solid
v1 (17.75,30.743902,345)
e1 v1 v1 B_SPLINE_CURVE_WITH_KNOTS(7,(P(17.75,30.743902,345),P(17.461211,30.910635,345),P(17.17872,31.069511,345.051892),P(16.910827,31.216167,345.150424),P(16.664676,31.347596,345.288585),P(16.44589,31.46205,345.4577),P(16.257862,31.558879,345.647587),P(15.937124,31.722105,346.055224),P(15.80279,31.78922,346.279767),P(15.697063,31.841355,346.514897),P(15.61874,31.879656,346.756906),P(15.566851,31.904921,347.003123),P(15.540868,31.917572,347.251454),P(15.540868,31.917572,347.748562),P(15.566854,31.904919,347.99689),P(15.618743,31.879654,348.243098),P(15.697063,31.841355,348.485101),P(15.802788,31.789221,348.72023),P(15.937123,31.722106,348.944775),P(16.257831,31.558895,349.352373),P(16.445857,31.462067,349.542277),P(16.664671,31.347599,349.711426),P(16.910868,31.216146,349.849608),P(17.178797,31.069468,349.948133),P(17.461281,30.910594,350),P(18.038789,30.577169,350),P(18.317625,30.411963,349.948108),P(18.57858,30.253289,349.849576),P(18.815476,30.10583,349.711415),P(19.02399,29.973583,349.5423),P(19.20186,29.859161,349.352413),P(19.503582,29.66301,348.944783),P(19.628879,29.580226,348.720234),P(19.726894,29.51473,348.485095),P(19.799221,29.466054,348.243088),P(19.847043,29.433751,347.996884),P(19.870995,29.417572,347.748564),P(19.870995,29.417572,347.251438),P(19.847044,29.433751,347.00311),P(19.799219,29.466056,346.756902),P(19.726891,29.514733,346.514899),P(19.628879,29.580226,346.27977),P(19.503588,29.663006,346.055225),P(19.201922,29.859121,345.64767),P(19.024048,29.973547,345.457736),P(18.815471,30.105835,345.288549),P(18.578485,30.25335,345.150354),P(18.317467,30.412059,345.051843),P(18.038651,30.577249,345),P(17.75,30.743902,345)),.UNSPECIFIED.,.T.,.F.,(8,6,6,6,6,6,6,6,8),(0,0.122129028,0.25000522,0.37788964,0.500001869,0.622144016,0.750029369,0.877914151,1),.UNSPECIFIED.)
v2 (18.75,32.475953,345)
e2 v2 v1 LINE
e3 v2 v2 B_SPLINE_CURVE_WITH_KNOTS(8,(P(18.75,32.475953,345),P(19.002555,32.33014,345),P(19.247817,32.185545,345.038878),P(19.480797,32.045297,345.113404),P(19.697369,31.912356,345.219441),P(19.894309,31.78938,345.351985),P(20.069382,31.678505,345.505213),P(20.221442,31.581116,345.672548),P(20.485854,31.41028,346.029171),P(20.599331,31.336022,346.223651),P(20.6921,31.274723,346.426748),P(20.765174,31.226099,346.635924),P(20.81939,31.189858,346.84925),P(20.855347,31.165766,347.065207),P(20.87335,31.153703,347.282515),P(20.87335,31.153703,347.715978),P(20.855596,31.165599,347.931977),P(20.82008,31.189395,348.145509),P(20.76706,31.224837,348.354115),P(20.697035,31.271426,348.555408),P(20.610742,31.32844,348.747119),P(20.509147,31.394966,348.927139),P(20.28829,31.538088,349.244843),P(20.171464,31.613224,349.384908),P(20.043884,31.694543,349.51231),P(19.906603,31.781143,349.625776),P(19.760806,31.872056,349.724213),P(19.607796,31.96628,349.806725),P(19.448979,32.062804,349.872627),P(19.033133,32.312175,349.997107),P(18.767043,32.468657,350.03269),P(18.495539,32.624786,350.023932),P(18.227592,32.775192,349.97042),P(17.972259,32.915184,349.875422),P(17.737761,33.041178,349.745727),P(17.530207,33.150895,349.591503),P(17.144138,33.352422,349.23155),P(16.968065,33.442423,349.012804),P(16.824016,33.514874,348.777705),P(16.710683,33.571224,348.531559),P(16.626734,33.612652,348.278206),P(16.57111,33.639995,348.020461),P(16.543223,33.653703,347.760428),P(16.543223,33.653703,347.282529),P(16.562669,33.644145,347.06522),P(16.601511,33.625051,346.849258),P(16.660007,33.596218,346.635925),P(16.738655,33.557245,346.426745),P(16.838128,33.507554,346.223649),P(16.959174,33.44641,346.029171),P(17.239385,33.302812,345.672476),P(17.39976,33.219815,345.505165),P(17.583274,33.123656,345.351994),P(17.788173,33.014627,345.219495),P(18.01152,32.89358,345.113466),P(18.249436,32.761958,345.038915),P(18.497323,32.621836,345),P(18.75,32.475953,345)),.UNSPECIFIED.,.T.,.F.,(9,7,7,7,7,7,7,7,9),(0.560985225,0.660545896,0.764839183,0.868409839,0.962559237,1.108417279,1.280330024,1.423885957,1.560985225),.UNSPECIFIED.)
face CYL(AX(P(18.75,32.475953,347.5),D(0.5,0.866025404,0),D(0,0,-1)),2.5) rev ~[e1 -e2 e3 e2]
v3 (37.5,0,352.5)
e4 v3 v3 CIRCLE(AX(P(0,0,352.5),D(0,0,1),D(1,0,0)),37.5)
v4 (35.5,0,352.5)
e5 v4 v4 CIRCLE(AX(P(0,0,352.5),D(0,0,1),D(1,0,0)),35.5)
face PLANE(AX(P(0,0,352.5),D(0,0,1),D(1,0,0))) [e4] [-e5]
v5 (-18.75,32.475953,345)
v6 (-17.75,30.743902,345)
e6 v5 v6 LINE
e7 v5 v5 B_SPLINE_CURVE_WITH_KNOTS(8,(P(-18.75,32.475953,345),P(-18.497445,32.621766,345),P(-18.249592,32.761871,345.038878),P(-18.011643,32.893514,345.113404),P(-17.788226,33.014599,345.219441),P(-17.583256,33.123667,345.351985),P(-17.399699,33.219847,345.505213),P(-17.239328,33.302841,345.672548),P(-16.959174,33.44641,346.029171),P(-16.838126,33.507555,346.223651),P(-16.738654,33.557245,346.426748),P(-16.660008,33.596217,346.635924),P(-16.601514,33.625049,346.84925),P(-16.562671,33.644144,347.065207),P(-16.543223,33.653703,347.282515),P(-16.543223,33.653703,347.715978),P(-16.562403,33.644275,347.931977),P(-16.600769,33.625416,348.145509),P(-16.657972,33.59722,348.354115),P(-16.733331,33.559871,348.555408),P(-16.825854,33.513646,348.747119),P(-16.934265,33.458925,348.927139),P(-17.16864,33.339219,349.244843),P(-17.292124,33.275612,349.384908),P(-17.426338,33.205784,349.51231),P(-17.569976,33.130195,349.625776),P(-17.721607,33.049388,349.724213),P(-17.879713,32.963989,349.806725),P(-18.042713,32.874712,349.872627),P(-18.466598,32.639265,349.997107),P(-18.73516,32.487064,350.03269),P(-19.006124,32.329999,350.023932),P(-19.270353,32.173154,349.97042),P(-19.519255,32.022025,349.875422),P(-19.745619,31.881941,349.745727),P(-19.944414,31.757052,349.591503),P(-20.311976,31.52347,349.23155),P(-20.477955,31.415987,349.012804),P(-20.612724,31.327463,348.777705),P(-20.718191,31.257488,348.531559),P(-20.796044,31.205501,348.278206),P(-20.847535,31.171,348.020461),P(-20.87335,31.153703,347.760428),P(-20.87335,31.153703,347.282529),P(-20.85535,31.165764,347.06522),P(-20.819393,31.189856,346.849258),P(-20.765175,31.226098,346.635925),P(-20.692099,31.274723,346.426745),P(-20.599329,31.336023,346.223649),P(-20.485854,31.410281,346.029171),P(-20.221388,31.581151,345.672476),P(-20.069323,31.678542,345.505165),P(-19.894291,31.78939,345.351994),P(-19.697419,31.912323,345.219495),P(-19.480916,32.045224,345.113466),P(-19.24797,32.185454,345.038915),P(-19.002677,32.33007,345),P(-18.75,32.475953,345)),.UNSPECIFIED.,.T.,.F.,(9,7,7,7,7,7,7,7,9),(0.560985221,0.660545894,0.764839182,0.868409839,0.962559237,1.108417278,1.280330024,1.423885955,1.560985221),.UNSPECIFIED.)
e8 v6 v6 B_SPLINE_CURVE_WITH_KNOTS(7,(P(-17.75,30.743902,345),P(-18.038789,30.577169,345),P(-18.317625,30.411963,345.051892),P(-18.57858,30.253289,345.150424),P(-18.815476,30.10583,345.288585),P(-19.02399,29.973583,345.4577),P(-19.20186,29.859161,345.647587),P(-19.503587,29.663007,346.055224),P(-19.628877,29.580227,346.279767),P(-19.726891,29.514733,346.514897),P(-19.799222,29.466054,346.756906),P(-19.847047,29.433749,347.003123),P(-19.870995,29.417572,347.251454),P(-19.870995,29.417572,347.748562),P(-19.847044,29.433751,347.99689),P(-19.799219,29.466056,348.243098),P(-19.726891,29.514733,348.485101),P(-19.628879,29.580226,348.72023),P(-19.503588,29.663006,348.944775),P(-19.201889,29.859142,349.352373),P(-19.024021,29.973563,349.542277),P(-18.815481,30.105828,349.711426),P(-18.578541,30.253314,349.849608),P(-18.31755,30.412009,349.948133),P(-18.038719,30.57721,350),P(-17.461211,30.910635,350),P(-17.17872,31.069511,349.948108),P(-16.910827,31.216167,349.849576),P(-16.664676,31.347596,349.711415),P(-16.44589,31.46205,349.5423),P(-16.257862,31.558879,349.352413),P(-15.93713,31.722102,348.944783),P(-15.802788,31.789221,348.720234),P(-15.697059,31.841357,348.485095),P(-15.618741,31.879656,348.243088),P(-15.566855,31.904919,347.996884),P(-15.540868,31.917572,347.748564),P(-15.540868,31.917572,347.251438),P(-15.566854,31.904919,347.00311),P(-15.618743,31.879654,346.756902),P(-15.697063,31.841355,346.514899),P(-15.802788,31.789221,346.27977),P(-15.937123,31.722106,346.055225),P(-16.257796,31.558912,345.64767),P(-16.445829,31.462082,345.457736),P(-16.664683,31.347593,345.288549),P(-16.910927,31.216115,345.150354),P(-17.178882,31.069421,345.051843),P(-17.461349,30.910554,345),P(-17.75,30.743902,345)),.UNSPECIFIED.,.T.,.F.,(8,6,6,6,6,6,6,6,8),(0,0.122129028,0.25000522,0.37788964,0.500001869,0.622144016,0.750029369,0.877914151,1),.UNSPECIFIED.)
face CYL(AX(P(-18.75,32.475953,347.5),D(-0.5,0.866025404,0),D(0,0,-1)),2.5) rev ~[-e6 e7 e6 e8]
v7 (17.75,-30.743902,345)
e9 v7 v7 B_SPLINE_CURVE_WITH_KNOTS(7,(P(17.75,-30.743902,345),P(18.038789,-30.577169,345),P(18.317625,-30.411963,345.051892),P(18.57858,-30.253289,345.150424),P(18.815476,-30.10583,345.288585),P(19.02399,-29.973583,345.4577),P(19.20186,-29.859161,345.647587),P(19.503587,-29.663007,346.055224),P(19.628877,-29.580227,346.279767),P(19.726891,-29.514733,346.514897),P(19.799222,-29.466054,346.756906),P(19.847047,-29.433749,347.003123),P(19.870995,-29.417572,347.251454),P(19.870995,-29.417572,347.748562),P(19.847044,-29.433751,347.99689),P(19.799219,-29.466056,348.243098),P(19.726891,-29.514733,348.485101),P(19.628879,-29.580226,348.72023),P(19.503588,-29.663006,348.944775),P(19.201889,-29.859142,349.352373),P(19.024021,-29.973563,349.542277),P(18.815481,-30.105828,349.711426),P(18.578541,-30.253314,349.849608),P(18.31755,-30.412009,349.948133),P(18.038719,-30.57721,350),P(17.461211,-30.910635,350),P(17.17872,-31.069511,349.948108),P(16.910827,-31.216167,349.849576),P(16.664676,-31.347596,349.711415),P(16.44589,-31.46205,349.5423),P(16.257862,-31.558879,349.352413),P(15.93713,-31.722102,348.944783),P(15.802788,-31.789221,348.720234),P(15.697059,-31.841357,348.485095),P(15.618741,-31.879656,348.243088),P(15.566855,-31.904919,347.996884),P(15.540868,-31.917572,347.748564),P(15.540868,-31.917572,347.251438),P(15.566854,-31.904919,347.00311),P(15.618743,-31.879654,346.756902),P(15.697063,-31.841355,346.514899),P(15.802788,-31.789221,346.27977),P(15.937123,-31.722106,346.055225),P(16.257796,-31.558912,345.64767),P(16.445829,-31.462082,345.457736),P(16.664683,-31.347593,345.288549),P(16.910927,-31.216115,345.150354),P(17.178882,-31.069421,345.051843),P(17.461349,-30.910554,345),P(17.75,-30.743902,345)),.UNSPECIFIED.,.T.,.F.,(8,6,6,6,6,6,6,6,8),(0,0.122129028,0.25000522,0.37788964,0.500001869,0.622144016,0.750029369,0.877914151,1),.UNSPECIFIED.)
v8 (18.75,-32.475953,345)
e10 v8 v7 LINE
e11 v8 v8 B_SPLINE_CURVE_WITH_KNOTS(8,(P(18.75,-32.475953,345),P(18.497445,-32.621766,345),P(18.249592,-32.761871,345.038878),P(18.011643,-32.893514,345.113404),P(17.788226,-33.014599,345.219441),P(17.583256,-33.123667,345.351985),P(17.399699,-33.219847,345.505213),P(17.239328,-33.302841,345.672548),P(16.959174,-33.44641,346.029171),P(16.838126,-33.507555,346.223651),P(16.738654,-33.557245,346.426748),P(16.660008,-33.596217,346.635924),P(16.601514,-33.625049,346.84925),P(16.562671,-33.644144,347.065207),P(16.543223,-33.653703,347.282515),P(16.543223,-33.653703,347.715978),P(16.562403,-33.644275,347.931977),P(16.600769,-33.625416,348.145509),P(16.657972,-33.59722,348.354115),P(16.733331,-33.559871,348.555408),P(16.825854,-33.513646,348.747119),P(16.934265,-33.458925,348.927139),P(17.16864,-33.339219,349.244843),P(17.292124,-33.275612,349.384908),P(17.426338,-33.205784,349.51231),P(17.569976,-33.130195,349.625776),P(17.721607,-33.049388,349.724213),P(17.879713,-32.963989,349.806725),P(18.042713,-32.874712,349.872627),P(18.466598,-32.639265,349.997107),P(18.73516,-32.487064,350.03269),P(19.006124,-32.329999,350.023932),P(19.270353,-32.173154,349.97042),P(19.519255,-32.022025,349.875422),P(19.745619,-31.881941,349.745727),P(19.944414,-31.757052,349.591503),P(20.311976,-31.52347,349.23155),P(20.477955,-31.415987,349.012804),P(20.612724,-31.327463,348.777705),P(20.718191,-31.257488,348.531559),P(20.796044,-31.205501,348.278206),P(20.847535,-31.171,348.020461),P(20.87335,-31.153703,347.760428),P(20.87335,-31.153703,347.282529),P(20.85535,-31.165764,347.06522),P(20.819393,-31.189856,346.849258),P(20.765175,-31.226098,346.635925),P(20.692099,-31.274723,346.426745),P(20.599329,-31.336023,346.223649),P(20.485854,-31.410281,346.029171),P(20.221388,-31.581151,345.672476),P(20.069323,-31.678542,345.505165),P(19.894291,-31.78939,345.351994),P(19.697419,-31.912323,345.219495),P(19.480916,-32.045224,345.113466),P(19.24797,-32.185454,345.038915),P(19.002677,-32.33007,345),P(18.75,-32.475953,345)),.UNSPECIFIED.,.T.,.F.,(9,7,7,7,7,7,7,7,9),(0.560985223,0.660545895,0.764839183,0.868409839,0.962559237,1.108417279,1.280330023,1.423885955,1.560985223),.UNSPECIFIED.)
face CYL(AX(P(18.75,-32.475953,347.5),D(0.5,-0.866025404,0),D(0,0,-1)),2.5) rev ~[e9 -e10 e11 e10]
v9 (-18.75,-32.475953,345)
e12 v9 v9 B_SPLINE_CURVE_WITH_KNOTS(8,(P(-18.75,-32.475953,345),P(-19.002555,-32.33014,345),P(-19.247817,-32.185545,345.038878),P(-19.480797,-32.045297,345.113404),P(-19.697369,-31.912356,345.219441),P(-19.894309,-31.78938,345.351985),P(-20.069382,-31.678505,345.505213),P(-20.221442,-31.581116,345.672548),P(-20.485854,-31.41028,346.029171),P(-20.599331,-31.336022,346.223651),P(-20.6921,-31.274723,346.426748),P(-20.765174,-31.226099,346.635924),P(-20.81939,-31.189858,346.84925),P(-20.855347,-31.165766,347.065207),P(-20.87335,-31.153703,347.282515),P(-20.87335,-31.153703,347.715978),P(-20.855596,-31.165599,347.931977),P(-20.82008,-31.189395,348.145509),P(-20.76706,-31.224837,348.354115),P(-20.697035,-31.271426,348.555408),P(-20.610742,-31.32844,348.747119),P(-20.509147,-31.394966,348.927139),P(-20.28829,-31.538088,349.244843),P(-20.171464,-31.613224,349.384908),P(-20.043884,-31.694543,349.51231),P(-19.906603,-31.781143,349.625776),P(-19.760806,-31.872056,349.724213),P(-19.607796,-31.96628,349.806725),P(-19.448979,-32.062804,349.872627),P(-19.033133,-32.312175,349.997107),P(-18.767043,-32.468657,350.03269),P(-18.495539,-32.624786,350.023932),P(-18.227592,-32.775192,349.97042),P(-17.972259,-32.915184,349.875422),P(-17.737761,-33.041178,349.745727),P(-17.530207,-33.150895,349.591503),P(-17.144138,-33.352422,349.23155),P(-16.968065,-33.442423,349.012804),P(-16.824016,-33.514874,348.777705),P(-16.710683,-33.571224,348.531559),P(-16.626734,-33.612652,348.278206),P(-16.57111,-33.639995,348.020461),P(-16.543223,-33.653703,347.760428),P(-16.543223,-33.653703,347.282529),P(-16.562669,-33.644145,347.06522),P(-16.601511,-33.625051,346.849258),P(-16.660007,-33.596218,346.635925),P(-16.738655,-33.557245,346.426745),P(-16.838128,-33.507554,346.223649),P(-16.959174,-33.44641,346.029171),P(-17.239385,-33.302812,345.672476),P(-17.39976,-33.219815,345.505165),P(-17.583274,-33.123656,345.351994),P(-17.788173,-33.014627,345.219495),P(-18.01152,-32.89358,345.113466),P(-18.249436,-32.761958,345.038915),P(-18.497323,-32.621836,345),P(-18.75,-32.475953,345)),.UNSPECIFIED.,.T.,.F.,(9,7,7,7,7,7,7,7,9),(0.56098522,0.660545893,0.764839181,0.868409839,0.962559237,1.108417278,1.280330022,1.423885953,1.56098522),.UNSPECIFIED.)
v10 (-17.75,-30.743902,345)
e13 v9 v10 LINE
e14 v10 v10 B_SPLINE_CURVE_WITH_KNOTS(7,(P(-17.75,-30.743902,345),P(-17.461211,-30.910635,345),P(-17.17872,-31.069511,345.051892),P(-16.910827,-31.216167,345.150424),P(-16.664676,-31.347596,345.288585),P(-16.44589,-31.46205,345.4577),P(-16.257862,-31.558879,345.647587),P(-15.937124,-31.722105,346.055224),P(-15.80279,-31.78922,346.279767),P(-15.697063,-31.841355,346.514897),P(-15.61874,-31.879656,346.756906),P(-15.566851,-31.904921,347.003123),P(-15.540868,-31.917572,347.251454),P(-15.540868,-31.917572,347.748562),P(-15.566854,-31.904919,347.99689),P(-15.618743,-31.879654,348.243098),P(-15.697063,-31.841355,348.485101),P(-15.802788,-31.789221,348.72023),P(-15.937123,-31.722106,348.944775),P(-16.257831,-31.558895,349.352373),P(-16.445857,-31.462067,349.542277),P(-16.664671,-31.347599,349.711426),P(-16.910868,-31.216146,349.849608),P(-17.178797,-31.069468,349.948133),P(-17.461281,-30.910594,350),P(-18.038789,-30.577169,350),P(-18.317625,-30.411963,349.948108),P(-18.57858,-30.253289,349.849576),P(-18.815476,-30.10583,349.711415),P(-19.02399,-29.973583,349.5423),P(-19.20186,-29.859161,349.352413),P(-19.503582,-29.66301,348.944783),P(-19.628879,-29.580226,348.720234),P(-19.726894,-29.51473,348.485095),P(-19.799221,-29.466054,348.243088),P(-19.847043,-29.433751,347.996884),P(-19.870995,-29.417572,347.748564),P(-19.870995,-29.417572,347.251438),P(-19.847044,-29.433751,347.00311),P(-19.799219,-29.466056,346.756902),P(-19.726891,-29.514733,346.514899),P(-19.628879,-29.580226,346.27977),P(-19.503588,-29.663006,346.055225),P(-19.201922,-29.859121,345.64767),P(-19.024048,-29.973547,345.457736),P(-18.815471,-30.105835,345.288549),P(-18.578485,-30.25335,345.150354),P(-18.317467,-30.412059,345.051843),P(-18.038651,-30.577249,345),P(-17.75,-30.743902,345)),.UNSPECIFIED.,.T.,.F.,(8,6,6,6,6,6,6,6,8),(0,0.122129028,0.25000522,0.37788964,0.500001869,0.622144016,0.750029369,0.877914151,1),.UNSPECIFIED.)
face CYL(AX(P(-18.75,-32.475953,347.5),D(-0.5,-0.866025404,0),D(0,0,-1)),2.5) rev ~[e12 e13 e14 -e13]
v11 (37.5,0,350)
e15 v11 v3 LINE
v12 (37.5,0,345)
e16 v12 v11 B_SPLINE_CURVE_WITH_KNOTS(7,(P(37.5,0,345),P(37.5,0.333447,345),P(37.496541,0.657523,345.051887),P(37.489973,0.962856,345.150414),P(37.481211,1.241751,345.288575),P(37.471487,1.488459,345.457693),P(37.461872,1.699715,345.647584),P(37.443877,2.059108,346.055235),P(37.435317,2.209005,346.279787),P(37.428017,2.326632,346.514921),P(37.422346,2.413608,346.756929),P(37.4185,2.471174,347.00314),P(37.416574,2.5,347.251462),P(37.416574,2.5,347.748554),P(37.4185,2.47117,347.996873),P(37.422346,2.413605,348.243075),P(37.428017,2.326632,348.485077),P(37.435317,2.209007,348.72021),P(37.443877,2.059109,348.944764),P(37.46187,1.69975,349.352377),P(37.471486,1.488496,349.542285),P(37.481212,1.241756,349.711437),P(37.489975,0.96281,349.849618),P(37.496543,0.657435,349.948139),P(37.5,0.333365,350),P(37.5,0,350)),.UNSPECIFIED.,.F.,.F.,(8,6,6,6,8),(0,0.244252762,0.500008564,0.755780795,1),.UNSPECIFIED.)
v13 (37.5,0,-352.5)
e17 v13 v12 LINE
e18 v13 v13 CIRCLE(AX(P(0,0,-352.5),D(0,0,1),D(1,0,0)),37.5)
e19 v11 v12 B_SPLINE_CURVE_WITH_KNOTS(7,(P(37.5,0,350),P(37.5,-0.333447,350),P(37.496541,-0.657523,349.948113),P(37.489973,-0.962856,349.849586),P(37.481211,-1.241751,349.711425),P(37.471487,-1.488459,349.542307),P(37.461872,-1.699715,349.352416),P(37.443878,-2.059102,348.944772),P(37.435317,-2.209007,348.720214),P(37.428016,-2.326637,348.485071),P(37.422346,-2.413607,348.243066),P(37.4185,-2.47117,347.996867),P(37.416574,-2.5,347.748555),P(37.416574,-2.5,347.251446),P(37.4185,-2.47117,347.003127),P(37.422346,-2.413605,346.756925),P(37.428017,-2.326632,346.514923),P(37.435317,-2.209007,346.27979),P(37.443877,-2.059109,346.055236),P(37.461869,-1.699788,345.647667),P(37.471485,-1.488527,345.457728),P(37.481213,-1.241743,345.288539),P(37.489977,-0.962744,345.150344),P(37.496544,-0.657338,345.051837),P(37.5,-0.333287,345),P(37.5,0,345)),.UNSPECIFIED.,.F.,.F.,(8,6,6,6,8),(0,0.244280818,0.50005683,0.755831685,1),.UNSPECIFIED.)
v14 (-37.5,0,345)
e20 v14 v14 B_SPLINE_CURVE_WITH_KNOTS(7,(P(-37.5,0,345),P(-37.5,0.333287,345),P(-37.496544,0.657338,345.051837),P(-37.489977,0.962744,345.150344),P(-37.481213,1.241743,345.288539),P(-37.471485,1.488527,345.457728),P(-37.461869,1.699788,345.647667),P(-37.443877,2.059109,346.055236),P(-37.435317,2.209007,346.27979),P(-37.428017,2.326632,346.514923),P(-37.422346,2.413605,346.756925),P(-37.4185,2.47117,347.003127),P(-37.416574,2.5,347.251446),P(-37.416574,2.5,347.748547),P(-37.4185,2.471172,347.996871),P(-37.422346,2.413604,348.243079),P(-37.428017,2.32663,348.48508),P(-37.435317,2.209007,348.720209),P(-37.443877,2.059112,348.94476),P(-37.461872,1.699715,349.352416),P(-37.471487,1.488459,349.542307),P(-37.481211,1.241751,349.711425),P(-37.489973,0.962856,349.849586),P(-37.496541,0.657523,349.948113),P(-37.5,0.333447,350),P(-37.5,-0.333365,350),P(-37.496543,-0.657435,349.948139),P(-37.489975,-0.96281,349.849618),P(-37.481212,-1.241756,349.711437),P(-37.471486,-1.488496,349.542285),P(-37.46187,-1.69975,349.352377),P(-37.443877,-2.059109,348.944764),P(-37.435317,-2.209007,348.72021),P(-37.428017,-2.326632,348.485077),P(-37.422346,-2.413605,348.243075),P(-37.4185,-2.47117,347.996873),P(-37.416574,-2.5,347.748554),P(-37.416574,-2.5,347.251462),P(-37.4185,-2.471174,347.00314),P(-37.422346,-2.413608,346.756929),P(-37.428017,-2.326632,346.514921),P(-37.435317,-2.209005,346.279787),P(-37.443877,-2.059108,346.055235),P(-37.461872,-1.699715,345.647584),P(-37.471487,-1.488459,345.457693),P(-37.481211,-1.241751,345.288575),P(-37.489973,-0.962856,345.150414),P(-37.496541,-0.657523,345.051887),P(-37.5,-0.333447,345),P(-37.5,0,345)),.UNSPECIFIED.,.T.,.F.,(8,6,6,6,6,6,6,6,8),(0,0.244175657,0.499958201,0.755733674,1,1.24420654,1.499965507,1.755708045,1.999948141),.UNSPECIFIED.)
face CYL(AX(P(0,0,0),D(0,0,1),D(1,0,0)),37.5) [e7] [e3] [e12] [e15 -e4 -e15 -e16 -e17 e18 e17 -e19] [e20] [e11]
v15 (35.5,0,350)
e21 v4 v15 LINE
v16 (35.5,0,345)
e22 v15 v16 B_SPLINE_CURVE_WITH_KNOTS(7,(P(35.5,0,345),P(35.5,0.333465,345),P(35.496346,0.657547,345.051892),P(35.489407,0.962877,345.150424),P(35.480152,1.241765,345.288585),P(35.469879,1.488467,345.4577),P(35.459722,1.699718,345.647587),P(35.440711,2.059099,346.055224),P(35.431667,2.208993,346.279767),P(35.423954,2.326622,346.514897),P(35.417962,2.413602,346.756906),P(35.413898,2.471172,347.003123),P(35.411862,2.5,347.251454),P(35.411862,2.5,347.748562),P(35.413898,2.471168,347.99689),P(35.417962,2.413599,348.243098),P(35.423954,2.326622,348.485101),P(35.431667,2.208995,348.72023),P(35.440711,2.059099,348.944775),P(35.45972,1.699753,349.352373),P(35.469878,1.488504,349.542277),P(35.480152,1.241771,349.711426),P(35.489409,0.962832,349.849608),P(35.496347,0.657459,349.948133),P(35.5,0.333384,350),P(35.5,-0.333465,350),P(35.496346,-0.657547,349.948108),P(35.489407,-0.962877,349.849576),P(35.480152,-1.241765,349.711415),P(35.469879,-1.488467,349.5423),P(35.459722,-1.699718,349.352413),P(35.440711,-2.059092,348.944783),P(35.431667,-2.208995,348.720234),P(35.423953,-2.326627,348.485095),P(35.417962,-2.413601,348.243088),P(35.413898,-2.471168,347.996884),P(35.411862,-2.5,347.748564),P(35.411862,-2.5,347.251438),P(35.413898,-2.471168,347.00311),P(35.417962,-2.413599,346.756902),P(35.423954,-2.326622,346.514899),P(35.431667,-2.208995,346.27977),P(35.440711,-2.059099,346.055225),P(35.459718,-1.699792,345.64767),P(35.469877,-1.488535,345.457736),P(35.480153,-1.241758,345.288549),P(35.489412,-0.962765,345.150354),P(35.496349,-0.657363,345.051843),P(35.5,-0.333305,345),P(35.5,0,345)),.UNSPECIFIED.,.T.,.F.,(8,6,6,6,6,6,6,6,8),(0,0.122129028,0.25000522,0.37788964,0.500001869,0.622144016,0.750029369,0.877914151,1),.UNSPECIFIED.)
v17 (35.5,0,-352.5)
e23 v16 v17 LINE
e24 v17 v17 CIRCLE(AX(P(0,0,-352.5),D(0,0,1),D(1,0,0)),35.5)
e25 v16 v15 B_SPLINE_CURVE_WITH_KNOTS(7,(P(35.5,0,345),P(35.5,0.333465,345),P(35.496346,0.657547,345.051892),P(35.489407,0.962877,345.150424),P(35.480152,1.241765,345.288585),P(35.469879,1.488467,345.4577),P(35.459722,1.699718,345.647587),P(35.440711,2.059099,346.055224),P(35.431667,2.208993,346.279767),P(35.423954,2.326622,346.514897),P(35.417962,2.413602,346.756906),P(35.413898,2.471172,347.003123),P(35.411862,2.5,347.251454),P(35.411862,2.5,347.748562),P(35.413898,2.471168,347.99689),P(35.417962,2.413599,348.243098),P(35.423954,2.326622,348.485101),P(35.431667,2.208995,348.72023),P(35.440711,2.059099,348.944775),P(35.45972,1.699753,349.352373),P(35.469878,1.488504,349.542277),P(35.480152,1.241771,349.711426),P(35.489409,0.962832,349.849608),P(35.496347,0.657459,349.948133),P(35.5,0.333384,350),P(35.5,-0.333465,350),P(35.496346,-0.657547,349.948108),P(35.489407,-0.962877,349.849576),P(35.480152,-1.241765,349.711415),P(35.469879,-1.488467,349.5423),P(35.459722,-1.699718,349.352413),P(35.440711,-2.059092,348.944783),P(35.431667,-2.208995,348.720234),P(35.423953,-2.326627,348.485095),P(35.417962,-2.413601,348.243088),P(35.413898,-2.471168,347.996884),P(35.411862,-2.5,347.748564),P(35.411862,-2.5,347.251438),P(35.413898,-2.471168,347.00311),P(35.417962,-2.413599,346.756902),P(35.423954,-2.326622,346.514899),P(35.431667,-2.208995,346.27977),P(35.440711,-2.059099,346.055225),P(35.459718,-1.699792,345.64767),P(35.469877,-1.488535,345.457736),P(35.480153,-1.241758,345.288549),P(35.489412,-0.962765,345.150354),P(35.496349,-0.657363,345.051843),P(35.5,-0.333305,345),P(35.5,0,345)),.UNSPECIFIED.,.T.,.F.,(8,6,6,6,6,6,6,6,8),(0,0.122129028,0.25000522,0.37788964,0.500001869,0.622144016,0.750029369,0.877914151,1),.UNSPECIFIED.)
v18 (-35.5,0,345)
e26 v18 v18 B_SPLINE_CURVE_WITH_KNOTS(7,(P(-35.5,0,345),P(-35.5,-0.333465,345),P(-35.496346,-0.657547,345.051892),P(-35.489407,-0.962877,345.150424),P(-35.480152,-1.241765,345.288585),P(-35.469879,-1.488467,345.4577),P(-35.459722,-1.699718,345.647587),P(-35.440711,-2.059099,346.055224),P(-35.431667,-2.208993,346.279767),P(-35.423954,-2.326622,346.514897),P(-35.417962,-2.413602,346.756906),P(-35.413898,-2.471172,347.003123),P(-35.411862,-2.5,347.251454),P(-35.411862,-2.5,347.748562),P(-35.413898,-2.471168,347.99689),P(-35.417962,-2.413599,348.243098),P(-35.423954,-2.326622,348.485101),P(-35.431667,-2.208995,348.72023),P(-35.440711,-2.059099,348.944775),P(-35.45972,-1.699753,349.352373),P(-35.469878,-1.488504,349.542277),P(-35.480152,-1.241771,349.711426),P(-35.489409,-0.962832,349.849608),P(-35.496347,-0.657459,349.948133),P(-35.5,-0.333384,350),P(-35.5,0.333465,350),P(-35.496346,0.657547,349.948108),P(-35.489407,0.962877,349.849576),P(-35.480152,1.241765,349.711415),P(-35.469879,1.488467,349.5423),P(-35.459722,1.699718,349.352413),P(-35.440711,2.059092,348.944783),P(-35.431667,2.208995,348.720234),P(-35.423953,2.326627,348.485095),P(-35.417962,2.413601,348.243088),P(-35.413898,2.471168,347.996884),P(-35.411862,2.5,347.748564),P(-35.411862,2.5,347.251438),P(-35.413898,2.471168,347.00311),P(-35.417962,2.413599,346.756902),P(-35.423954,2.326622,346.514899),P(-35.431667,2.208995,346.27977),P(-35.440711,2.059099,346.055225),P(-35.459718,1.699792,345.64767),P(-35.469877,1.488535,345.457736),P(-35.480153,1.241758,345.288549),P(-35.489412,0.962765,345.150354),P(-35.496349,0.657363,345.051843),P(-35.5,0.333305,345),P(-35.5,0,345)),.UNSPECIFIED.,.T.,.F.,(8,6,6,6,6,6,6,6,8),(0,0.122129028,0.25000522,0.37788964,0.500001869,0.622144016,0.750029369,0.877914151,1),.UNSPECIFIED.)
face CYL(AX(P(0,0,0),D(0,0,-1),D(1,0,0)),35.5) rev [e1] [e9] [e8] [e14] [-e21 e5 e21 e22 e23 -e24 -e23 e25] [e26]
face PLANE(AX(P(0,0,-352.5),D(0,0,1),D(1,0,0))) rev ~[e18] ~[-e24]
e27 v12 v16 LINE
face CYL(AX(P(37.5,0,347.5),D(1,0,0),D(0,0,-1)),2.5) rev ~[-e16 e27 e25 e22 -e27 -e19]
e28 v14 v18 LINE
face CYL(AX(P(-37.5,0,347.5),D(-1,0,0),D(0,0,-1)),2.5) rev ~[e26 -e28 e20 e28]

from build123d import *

# Parameters (mm, degrees)
SKETCH1_R               = 37.5
SKETCH1_R_2             = 35.5
BOSS_EXTRUDE1_DEPTH     = 352.5
CUT_EXTRUDE1_REACH      = 364.336
CUT_EXTRUDE1_END_RADIUS = 35.5
SKETCH2_R               = 2.5
CIRPATTERN1_COUNT       = 6


with BuildPart() as part:
    # Sketch1 → Boss-Extrude1 (new, symmetric)
    with BuildSketch(Plane.XY):
        Circle(SKETCH1_R)
        Circle(SKETCH1_R_2, mode=Mode.SUBTRACT)
    extrude(amount=BOSS_EXTRUDE1_DEPTH, both=True)

    # Cut-Extrude1: up to this cylinder (the profile starts outside it)
    cut_extrude1_end = Plane(origin=(0, 0, 347.5), z_dir=(0, 0, -1)) * Cylinder(CUT_EXTRUDE1_END_RADIUS, 800.672, mode=Mode.PRIVATE)
    # Sketch2 → Cut-Extrude1 (cut, up to the surface)
    with BuildSketch(Plane(origin=(37.5, 0, 0), x_dir=(0, 0, -1), z_dir=(1, 0, 0)), mode=Mode.PRIVATE) as cut_extrude1_sk1:
        with Locations((-347.5, 0)):
            Circle(SKETCH2_R)
    cut_extrude1_tool1 = extrude(cut_extrude1_sk1.sketch, amount=-CUT_EXTRUDE1_REACH, mode=Mode.PRIVATE) - cut_extrude1_end
    cut_extrude1 = cut_extrude1_tool1.solids().sort_by_distance((37.5, 0, 347.5))[0]
    add(cut_extrude1, mode=Mode.SUBTRACT)

    # CirPattern1: Cut-Extrude1 ×6 about axis
    cirpattern1_axis = Axis((0, 0, 352.5), (0, 0, 1))
    for i in range(1, CIRPATTERN1_COUNT):
        add(cut_extrude1.rotate(cirpattern1_axis, i * 360 / CIRPATTERN1_COUNT), mode=Mode.SUBTRACT)


solid = part.part
